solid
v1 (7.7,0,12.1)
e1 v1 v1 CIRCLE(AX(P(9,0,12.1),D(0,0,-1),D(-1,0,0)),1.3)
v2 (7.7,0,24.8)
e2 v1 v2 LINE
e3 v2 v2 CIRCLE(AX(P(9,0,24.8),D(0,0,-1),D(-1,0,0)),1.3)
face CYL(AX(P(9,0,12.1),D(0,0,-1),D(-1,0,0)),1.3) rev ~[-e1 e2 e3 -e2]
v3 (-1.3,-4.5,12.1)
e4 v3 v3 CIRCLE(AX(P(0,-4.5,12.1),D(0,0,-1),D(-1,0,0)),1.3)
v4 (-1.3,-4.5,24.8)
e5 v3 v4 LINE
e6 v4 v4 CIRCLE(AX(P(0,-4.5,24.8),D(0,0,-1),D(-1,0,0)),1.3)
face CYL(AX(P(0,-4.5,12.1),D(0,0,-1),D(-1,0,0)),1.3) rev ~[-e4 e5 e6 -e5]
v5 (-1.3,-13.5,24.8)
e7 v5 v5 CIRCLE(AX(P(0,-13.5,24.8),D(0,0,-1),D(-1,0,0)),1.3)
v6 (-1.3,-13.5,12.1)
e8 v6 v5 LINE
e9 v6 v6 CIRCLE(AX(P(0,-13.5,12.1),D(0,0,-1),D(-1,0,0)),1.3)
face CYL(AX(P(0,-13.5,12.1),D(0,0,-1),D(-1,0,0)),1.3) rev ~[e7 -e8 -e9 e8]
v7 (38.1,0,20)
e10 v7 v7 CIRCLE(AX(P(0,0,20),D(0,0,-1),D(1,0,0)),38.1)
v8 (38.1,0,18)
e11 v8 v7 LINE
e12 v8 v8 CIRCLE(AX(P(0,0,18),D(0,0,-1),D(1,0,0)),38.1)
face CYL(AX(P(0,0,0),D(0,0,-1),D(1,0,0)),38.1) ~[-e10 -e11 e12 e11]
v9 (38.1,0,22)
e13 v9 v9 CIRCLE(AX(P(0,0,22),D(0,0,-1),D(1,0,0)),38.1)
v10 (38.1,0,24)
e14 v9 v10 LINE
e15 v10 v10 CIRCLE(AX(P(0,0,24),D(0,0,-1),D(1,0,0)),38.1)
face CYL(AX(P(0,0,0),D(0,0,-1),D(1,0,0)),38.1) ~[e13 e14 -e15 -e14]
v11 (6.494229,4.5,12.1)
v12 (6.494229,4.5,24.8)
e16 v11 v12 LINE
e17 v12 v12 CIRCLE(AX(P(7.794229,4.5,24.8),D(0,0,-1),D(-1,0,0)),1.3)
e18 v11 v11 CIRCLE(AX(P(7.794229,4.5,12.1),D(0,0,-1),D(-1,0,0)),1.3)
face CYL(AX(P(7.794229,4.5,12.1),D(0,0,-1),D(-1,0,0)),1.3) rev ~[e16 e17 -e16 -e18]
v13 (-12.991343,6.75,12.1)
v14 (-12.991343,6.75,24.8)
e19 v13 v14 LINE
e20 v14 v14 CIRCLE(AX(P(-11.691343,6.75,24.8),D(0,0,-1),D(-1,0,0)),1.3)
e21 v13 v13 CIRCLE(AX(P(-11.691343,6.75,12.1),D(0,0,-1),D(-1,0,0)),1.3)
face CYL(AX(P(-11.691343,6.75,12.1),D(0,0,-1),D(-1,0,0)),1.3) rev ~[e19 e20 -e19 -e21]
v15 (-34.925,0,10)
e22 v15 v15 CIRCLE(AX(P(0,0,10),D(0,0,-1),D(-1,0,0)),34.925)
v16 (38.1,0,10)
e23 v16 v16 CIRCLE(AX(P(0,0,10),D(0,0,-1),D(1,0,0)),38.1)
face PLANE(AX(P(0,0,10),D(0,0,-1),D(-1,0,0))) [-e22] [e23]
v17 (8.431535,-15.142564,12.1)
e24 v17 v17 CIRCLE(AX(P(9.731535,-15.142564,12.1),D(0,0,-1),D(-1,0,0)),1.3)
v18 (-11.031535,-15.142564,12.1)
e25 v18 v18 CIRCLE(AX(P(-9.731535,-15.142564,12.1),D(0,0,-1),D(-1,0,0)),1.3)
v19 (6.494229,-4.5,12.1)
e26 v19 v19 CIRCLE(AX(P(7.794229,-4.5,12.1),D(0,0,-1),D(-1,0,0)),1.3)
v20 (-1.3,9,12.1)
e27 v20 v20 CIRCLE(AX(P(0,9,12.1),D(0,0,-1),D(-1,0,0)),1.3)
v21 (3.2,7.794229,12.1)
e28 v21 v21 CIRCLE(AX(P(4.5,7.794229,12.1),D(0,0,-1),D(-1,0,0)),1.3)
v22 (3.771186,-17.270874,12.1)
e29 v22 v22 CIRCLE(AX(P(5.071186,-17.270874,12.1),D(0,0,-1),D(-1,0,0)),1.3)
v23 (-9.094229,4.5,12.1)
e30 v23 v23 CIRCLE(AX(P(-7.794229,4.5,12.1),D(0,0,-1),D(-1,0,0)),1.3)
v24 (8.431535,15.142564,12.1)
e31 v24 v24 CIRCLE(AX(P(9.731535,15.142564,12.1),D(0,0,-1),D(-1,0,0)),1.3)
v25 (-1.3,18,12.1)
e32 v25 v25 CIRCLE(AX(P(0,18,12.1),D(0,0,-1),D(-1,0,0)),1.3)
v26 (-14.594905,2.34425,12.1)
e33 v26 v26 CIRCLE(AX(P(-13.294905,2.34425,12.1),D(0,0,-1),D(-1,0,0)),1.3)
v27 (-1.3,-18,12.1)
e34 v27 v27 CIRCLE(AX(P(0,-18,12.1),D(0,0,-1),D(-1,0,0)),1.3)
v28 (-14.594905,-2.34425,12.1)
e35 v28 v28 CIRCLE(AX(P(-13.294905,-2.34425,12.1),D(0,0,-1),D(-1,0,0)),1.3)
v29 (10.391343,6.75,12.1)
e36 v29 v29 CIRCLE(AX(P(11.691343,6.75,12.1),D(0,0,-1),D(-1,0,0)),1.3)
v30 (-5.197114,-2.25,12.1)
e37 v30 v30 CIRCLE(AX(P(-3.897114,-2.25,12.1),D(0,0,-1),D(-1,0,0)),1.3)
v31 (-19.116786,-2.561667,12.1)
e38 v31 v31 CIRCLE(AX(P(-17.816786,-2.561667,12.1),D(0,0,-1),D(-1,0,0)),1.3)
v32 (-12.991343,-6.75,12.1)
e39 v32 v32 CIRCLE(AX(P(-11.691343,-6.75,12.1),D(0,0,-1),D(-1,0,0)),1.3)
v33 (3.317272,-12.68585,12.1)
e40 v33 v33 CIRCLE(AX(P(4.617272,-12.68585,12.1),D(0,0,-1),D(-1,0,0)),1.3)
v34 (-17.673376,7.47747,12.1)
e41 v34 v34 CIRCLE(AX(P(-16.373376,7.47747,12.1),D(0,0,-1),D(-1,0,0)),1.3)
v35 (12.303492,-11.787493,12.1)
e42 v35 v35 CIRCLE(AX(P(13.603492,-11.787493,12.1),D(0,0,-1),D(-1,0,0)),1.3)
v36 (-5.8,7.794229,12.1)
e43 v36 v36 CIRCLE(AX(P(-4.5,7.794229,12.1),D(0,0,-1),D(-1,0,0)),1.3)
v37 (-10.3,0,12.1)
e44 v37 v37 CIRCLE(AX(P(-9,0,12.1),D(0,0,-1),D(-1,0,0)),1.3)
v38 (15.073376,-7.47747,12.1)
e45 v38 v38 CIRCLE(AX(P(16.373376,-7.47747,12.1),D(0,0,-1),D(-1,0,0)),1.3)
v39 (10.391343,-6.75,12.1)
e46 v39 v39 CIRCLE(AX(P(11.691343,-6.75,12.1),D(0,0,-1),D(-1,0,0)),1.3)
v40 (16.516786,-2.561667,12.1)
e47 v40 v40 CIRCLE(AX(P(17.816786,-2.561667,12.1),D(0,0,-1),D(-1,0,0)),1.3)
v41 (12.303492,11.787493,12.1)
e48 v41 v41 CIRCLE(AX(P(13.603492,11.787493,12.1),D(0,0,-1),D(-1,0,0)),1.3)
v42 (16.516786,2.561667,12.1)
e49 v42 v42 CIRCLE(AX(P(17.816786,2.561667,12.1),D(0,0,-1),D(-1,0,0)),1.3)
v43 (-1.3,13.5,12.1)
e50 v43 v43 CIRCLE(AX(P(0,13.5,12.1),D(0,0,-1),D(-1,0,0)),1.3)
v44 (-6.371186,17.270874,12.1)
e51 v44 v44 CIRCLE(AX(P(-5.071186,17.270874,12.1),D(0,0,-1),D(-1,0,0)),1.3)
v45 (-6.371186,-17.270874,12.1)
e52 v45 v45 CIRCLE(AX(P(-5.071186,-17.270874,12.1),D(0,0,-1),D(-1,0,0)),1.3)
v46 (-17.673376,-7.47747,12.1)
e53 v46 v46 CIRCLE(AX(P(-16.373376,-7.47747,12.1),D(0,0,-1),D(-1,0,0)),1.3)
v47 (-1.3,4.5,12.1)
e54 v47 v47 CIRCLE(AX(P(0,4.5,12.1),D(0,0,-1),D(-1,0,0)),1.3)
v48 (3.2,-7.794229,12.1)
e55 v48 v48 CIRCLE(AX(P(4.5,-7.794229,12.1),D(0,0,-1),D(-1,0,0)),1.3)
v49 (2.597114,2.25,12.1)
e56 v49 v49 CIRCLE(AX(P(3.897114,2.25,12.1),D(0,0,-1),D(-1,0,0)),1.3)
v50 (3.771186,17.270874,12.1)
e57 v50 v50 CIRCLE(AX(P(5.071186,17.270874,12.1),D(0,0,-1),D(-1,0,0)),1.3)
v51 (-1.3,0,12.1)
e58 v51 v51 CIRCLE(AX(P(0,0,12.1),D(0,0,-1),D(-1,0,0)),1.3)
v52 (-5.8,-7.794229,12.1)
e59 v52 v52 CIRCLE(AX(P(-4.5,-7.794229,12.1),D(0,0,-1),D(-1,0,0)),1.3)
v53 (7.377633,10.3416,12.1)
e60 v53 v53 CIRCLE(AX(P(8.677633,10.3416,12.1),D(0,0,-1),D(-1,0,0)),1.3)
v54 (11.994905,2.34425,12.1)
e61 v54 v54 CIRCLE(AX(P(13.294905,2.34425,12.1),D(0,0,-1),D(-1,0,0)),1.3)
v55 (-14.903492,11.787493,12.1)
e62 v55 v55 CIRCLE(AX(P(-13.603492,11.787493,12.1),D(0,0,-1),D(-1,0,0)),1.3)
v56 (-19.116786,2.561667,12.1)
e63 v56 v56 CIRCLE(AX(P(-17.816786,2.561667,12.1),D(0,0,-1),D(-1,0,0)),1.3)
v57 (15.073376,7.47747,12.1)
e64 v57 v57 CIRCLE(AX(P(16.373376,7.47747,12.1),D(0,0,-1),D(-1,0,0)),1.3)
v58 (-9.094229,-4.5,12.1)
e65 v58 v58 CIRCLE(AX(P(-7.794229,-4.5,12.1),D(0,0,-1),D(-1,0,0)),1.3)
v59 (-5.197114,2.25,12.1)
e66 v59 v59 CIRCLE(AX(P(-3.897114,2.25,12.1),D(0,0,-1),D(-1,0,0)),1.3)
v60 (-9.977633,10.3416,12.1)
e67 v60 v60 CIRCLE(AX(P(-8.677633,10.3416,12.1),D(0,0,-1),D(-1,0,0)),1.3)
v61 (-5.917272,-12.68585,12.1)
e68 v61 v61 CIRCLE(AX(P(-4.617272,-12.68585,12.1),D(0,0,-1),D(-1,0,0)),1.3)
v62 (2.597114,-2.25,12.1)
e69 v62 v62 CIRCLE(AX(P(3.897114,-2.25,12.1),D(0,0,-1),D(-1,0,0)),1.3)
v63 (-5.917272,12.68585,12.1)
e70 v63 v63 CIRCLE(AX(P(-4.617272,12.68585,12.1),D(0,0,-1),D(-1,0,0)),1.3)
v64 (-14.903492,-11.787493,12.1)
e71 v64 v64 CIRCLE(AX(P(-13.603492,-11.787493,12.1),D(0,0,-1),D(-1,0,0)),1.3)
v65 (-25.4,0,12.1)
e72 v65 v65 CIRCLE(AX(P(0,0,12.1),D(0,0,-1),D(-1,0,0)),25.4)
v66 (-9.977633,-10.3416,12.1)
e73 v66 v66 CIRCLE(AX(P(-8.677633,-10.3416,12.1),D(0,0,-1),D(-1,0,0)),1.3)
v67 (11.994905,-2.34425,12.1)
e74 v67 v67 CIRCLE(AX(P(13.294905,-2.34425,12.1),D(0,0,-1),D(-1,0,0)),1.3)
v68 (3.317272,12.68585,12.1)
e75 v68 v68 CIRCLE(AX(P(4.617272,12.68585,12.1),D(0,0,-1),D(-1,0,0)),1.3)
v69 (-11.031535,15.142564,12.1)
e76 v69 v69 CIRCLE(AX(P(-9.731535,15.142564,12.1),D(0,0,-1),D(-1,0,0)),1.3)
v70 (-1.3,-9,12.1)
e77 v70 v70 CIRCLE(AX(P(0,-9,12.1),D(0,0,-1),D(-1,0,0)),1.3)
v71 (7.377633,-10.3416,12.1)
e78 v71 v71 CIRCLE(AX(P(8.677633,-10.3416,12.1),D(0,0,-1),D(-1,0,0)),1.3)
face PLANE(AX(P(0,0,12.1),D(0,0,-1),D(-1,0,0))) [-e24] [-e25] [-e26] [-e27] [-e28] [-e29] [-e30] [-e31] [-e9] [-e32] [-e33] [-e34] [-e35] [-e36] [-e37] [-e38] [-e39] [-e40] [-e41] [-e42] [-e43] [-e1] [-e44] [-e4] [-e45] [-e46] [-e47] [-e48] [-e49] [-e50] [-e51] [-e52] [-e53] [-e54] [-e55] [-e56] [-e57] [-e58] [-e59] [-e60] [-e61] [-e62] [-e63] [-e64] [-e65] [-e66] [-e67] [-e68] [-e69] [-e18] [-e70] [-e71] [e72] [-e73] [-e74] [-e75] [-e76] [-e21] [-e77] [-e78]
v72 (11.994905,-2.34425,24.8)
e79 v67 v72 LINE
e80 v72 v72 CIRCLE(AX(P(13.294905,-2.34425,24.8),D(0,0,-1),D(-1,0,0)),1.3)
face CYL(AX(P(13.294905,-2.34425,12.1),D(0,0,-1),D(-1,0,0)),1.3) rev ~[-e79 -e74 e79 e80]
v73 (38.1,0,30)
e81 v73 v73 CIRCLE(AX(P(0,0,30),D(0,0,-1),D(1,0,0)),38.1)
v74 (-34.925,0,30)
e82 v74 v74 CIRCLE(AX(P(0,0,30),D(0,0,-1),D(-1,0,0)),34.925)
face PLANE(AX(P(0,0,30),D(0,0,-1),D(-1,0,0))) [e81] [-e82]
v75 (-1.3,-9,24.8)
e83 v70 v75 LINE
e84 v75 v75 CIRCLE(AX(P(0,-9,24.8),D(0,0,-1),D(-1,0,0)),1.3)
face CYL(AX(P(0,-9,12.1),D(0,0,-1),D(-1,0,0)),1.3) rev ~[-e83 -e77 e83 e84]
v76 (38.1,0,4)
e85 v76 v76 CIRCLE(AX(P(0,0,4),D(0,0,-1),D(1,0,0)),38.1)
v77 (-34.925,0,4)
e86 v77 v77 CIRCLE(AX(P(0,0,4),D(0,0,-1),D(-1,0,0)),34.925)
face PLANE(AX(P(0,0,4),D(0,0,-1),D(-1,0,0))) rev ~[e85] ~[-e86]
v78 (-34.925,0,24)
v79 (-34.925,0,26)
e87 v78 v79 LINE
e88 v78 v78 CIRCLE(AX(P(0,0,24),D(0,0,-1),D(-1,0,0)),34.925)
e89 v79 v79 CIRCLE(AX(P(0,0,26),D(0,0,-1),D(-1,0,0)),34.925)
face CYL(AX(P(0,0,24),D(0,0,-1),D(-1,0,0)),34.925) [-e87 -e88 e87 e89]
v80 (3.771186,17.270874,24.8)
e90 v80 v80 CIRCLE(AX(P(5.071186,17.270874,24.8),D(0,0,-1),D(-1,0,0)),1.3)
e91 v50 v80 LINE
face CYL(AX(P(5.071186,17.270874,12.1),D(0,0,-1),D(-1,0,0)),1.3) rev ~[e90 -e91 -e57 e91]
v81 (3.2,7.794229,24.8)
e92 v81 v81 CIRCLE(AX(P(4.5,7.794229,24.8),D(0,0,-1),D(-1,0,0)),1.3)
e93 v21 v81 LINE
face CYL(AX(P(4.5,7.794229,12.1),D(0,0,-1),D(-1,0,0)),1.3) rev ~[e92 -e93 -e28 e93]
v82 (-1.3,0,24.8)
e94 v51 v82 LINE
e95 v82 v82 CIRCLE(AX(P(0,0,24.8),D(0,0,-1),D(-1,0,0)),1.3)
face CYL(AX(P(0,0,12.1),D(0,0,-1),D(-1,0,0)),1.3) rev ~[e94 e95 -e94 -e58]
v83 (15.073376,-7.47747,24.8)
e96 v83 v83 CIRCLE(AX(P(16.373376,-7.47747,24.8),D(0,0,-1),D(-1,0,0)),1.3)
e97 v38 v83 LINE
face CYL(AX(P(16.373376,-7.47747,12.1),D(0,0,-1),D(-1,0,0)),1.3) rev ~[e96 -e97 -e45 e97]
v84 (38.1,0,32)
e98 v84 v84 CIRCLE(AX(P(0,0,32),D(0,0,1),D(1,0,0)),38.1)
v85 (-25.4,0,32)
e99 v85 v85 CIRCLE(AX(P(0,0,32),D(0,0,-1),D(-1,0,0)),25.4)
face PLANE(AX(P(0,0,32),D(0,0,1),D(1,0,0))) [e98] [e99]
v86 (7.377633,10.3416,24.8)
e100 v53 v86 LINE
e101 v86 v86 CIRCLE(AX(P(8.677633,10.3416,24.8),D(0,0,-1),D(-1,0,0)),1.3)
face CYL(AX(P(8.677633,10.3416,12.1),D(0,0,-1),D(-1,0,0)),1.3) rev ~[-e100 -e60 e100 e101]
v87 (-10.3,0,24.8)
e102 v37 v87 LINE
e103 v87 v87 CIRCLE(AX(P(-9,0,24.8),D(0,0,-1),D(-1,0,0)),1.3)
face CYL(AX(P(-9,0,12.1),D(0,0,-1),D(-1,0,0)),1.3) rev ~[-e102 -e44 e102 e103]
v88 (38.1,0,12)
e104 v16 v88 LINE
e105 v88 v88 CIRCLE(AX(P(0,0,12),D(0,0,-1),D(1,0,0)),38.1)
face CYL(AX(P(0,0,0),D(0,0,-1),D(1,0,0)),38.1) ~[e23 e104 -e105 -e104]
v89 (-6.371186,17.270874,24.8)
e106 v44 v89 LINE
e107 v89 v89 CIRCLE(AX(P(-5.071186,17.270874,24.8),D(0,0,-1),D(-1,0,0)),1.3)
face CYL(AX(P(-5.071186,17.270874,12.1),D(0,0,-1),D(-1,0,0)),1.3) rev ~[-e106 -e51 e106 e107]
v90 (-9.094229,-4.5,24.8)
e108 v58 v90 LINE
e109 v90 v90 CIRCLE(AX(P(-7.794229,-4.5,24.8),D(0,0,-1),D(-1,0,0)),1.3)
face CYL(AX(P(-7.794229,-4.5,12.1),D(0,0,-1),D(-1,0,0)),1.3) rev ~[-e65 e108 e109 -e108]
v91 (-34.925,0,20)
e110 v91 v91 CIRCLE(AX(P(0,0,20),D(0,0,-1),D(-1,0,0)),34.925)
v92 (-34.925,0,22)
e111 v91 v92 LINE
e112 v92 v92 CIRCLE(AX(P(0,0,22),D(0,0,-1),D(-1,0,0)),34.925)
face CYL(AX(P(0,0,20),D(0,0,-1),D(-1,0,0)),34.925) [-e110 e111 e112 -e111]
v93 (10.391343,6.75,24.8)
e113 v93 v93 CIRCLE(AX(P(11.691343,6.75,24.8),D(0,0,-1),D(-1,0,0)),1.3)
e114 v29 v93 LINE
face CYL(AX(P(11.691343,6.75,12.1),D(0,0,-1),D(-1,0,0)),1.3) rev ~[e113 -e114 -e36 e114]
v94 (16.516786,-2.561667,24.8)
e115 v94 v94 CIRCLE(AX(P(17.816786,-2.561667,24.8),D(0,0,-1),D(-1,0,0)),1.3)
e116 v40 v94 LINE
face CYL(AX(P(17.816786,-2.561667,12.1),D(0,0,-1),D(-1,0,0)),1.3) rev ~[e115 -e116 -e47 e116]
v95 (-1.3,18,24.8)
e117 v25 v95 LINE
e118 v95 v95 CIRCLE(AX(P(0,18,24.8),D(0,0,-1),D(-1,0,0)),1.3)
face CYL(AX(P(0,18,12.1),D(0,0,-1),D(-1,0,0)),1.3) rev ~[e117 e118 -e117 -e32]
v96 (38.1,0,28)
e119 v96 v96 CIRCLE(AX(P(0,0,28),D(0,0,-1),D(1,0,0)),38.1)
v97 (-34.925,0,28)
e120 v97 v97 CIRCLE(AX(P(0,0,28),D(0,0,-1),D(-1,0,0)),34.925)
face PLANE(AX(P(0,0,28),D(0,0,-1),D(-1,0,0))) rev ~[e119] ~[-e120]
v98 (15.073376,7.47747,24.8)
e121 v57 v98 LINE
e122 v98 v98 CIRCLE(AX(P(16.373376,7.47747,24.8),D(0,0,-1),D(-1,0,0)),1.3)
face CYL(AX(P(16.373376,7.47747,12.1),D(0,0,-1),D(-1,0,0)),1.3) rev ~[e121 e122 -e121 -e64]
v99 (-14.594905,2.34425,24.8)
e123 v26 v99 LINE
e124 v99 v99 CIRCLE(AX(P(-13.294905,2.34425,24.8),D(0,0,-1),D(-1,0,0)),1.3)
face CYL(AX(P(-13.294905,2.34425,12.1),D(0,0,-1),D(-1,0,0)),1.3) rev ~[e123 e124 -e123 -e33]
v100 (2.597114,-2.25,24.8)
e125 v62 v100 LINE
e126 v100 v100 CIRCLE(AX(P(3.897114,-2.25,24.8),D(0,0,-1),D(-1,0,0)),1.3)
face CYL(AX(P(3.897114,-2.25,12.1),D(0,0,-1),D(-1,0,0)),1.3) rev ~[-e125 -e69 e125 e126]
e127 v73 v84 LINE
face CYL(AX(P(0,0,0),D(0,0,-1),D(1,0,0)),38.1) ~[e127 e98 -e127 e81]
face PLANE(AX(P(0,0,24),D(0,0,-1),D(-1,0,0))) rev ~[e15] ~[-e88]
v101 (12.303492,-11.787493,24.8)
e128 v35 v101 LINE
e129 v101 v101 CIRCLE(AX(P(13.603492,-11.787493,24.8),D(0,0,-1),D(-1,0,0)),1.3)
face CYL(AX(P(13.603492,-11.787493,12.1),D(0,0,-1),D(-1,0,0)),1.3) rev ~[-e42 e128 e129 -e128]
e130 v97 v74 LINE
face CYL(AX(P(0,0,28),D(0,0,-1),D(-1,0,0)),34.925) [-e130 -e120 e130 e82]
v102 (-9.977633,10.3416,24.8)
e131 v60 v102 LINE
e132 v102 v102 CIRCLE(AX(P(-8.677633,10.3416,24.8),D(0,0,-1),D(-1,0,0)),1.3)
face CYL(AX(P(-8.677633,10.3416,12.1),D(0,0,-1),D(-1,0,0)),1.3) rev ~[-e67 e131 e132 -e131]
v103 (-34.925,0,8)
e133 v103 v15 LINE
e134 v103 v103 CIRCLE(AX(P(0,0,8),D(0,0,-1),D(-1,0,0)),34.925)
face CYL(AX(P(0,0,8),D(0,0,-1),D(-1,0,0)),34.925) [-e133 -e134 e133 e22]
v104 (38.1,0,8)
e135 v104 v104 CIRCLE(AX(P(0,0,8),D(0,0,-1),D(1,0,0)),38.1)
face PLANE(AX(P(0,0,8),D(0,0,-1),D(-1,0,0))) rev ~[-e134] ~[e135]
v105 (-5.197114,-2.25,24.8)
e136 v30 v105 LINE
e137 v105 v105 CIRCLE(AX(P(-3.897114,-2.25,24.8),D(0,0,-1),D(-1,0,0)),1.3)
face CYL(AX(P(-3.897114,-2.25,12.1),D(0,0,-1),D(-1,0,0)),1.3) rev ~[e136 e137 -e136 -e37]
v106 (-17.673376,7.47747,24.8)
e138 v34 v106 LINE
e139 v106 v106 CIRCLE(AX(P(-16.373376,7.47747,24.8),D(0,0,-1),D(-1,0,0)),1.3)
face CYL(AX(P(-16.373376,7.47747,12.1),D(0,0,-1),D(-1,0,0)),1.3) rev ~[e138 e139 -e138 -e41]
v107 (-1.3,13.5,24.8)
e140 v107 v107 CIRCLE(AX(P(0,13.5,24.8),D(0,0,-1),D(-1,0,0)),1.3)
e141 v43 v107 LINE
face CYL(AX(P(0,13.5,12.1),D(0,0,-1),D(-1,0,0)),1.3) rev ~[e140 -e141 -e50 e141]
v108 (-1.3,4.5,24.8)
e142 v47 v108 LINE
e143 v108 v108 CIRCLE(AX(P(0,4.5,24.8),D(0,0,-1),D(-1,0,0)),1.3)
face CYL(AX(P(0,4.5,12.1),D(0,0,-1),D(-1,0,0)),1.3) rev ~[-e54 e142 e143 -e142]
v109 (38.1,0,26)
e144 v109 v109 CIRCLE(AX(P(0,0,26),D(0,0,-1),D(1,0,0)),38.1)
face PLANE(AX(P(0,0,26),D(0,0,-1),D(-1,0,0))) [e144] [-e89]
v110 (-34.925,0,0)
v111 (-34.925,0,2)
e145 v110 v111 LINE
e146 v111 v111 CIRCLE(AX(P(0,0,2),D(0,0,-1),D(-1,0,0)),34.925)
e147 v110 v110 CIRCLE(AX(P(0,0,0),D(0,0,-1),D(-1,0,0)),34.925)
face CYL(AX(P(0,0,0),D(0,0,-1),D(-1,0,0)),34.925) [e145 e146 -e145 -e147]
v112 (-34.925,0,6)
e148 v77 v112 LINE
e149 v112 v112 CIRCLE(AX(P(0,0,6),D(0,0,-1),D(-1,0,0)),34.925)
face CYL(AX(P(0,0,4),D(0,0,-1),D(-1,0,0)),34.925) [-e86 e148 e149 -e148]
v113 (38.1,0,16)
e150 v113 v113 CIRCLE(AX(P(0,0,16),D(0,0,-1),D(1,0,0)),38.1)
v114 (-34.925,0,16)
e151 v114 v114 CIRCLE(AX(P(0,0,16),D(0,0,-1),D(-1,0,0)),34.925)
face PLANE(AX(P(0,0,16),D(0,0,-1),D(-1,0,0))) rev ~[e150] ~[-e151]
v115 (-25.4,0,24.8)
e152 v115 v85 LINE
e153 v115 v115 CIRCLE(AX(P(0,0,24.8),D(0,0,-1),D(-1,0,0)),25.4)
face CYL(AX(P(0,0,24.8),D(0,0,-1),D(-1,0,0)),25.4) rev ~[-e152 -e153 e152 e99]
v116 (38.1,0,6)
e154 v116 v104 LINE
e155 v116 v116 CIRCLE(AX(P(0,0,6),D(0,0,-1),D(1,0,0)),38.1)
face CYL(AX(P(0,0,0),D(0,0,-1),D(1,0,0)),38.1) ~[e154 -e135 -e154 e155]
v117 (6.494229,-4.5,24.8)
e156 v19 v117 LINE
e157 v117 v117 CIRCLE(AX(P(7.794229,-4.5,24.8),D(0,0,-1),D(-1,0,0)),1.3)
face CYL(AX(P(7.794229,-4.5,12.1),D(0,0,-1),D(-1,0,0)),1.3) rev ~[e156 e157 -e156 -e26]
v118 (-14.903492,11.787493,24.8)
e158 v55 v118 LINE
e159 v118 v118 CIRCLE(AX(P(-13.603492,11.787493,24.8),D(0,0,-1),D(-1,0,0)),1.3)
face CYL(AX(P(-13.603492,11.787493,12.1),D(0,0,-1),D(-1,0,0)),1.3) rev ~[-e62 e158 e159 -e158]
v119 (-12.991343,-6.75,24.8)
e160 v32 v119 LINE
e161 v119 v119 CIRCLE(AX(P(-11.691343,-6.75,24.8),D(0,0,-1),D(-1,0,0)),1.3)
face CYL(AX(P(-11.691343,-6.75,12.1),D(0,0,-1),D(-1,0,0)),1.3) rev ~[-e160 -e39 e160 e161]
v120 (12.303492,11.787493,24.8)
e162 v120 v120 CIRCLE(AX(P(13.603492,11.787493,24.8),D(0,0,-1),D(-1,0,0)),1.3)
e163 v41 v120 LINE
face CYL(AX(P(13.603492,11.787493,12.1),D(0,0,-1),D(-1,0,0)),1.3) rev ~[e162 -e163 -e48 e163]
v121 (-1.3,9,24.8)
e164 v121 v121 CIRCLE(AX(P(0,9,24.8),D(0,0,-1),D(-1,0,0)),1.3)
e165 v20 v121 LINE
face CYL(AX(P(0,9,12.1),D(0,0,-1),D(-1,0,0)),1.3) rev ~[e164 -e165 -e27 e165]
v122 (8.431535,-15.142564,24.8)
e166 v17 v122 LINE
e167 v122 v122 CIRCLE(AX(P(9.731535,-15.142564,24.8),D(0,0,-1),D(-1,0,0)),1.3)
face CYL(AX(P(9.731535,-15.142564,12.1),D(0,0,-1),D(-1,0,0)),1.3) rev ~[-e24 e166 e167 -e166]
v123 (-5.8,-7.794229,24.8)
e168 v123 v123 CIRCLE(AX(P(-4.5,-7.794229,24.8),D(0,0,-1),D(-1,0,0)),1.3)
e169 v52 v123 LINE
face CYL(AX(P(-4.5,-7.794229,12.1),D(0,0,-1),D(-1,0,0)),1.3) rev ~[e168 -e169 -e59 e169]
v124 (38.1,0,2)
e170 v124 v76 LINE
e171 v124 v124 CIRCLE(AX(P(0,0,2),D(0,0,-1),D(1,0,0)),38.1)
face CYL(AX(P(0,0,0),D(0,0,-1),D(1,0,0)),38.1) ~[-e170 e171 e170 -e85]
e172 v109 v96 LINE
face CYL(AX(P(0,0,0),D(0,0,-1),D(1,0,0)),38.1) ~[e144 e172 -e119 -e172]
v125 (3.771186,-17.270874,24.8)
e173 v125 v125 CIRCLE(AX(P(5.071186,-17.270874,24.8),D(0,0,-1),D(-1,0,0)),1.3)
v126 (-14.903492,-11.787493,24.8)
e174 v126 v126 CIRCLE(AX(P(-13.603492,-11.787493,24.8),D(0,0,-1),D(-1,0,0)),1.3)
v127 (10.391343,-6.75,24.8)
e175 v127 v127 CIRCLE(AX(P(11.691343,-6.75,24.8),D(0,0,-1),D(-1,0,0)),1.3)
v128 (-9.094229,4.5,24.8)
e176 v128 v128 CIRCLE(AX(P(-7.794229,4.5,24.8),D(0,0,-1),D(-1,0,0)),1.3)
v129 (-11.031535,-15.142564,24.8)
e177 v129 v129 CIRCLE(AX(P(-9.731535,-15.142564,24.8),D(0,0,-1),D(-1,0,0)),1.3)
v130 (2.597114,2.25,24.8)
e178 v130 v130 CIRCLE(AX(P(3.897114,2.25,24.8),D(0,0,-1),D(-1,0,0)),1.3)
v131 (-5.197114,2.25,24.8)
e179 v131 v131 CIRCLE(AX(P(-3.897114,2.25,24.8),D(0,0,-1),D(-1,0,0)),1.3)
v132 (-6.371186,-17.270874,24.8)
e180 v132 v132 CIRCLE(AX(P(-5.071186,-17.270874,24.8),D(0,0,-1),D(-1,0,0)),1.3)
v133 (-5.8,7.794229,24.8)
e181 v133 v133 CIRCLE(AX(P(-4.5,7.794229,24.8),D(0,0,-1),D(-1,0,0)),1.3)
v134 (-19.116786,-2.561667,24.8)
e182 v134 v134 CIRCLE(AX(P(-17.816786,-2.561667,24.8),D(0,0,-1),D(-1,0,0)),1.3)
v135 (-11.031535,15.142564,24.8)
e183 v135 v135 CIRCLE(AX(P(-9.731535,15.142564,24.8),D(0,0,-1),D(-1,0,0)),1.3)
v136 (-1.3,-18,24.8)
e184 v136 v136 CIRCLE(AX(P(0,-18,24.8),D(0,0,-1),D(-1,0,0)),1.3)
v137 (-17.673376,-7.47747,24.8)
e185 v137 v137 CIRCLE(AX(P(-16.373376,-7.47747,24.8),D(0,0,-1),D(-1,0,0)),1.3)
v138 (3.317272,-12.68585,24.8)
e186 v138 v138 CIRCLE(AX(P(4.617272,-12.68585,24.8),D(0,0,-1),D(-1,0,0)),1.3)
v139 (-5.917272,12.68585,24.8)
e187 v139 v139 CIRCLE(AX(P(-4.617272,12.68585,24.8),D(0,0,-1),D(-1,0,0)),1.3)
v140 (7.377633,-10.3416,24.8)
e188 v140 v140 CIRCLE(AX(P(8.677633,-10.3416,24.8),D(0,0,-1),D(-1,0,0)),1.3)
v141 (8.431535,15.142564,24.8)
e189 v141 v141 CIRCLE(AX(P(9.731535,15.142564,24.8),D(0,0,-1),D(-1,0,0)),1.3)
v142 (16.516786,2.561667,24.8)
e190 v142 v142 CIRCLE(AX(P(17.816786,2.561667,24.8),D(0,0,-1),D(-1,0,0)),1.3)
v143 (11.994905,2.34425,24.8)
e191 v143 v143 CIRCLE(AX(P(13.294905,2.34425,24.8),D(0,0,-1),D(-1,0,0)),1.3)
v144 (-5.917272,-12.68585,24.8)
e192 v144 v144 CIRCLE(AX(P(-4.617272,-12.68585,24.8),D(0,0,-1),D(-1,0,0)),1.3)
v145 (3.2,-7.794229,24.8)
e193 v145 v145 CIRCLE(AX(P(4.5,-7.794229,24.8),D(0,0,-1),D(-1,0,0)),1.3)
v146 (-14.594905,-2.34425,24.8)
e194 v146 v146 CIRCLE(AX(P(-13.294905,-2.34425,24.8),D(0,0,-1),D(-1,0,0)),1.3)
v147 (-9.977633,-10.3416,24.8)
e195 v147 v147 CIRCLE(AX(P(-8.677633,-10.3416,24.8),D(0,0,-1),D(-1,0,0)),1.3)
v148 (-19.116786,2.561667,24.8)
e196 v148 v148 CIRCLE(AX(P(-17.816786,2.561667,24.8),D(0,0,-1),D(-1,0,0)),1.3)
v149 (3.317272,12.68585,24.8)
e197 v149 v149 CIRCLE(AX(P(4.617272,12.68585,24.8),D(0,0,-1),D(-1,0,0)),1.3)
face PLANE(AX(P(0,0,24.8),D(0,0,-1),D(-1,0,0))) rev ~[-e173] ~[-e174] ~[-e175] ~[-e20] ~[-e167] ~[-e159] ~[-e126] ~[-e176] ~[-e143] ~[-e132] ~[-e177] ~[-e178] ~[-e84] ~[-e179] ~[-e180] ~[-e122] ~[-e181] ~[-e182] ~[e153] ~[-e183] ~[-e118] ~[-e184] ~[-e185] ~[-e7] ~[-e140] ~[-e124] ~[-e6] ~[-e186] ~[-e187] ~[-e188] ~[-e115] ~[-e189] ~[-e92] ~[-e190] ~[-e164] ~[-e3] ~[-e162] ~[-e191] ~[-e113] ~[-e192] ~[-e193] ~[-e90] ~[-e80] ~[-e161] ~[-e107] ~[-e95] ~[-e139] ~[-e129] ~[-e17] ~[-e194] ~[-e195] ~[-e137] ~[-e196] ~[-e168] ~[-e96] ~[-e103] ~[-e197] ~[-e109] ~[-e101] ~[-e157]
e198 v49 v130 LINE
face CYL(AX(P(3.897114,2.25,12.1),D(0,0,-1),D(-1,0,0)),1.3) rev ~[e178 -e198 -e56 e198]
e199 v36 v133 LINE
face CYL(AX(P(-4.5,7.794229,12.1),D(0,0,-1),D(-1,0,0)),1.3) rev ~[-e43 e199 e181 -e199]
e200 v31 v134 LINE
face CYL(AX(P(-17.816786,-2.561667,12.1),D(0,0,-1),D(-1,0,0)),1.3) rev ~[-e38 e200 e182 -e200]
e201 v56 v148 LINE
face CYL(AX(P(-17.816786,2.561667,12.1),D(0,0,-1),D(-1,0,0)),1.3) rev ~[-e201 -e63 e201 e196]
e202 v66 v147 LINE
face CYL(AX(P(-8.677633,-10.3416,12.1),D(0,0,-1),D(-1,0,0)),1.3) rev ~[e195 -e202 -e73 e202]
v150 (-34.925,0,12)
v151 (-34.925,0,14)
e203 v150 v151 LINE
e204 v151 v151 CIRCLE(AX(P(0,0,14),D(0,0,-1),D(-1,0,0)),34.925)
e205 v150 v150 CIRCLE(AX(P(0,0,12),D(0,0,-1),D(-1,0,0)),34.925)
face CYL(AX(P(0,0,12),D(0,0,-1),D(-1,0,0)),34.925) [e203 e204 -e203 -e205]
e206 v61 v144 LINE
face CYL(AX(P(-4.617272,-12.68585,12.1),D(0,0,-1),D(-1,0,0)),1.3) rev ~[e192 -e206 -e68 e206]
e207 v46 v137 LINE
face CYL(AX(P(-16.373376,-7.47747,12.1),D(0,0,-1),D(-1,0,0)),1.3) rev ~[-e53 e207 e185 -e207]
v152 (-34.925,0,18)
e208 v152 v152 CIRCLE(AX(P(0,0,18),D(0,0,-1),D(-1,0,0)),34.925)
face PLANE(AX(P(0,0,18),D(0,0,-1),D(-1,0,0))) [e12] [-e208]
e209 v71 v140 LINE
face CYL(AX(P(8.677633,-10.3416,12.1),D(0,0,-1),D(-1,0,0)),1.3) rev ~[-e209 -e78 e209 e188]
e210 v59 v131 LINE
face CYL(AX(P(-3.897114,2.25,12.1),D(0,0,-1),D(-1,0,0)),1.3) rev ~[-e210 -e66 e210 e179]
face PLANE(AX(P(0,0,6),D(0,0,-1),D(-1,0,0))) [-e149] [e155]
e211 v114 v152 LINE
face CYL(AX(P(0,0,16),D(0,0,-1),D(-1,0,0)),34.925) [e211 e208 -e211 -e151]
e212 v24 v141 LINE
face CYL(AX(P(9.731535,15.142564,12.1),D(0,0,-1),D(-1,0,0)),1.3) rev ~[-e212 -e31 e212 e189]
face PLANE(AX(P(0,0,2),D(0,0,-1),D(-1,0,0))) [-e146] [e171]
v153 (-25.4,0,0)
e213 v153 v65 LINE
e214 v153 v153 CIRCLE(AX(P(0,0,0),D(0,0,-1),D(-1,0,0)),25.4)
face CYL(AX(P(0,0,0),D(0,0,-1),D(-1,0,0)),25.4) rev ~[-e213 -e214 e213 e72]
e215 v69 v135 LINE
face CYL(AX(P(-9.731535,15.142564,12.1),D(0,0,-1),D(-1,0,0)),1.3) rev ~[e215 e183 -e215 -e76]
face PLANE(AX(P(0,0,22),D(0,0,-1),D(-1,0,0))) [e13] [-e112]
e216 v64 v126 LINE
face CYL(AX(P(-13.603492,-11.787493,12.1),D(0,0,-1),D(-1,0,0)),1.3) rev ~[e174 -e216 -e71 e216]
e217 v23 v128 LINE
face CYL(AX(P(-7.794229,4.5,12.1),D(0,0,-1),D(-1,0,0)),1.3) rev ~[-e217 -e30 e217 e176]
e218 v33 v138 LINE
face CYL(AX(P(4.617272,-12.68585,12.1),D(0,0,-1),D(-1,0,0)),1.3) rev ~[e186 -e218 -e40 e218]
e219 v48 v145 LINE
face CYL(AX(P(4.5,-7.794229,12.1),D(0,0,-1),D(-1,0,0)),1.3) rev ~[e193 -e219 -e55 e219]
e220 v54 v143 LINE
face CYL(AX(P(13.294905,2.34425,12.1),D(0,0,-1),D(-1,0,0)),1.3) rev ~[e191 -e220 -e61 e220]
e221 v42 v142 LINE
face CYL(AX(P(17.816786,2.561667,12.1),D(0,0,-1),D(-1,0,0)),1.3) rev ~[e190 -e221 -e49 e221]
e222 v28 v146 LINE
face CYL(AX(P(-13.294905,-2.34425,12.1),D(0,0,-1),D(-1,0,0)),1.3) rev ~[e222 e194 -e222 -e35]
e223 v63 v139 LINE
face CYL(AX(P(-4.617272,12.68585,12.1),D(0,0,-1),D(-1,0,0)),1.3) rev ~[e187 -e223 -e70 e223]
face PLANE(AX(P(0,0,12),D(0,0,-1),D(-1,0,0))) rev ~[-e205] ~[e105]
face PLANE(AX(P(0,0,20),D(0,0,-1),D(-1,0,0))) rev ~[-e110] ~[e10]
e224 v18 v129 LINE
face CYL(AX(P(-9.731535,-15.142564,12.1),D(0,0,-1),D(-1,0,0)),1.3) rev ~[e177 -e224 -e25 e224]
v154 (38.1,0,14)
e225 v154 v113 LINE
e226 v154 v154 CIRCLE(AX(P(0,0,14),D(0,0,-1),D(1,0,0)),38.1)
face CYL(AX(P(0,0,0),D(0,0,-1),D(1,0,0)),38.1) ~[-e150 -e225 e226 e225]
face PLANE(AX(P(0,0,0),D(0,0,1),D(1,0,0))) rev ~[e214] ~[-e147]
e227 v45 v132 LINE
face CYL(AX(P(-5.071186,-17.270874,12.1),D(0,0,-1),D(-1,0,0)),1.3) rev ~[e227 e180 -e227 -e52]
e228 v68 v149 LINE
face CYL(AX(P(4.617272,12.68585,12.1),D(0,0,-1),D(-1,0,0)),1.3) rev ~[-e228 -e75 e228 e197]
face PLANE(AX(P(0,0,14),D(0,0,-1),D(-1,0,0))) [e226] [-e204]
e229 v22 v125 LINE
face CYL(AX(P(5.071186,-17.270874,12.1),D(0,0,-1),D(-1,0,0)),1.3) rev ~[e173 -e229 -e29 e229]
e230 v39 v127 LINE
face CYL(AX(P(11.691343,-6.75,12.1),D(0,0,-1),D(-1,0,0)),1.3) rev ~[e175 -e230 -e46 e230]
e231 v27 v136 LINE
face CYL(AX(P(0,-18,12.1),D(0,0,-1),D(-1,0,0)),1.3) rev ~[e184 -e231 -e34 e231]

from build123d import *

# Parameters (mm, degrees)
ESQUISSE1_R                = 38.1
BOSS_EXTRU_1_DEPTH         = 32
ESQUISSE2_R                = 25.4
ENL_V_MAT_EXTRU_1_DEPTH    = 12.1
ESQUISSE3_R                = 1.3
ENL_V_MAT_EXTRU_2_DEPTH    = 12.7
ESQUISSE4_R                = 25.4
ENL_V_MAT_EXTRU_3_DEPTH    = 60.314922237
ESQUISSE5_OUTSIDE_W        = 100.682
ESQUISSE5_OUTSIDE_H        = 100.682
ESQUISSE5_OUTSIDE_R        = 34.925
ENL_V_MAT_EXTRU_4_DEPTH    = 2
R_P_TITION_LIN_AIRE1_COUNT = 8
R_P_TITION_LIN_AIRE1_PITCH = 4


with BuildPart() as part:
    # Esquisse1 → Boss.-Extru.1 (new body)
    with BuildSketch(Plane.XY):
        Circle(ESQUISSE1_R)
    extrude(amount=BOSS_EXTRU_1_DEPTH)

    # Esquisse2 → Enlèv. mat.-Extru.1 (cut)
    with BuildSketch(Plane(origin=(0, 0, 0), x_dir=(-1, 0, 0), z_dir=(0, 0, -1))):
        Circle(ESQUISSE2_R)
    extrude(amount=-ENL_V_MAT_EXTRU_1_DEPTH, mode=Mode.SUBTRACT)

    # Esquisse3 → Enlèv. mat.-Extru.2 (cut)
    with BuildSketch(Plane(origin=(0, 0, 12.1), x_dir=(-1, 0, 0), z_dir=(0, 0, -1))):
        Circle(ESQUISSE3_R)
        with Locations((0, 4.5)):
            Circle(ESQUISSE3_R)
        with Locations((0, 9)):
            Circle(ESQUISSE3_R)
        with Locations((0, 13.5)):
            Circle(ESQUISSE3_R)
        with Locations((0, 18)):
            Circle(ESQUISSE3_R)
        with Locations((3.897114317, 2.25)):
            Circle(ESQUISSE3_R)
        with Locations((3.897114317, -2.25)):
            Circle(ESQUISSE3_R)
        with Locations((0, -4.5)):
            Circle(ESQUISSE3_R)
        with Locations((-3.897114317, -2.25)):
            Circle(ESQUISSE3_R)
        with Locations((-3.897114317, 2.25)):
            Circle(ESQUISSE3_R)
        with Locations((4.5, 7.794228634)):
            Circle(ESQUISSE3_R)
        with Locations((7.794228634, 4.5)):
            Circle(ESQUISSE3_R)
        with Locations((9, 0)):
            Circle(ESQUISSE3_R)
        with Locations((7.794228634, -4.5)):
            Circle(ESQUISSE3_R)
        with Locations((4.5, -7.794228634)):
            Circle(ESQUISSE3_R)
        with Locations((0, -9)):
            Circle(ESQUISSE3_R)
        with Locations((-4.5, -7.794228634)):
            Circle(ESQUISSE3_R)
        with Locations((-7.794228634, -4.5)):
            Circle(ESQUISSE3_R)
        with Locations((-9, 0)):
            Circle(ESQUISSE3_R)
        with Locations((-7.794228634, 4.5)):
            Circle(ESQUISSE3_R)
        with Locations((-4.5, 7.794228634)):
            Circle(ESQUISSE3_R)
        with Locations((4.617271935, 12.685850381)):
            Circle(ESQUISSE3_R)
        with Locations((8.677632731, 10.341599982)):
            Circle(ESQUISSE3_R)
        with Locations((11.691342951, 6.75)):
            Circle(ESQUISSE3_R)
        with Locations((13.294904666, 2.344250399)):
            Circle(ESQUISSE3_R)
        with Locations((13.294904666, -2.344250399)):
            Circle(ESQUISSE3_R)
        with Locations((11.691342951, -6.75)):
            Circle(ESQUISSE3_R)
        with Locations((8.677632731, -10.341599982)):
            Circle(ESQUISSE3_R)
        with Locations((4.617271935, -12.685850381)):
            Circle(ESQUISSE3_R)
        with Locations((0, -13.5)):
            Circle(ESQUISSE3_R)
        with Locations((-4.617271935, -12.685850381)):
            Circle(ESQUISSE3_R)
        with Locations((-8.677632731, -10.341599982)):
            Circle(ESQUISSE3_R)
        with Locations((-11.691342951, -6.75)):
            Circle(ESQUISSE3_R)
        with Locations((-13.294904666, -2.344250399)):
            Circle(ESQUISSE3_R)
        with Locations((-13.294904666, 2.344250399)):
            Circle(ESQUISSE3_R)
        with Locations((-11.691342951, 6.75)):
            Circle(ESQUISSE3_R)
        with Locations((-8.677632731, 10.341599982)):
            Circle(ESQUISSE3_R)
        with Locations((-4.617271935, 12.685850381)):
            Circle(ESQUISSE3_R)
        with Locations((5.071186023, 17.270873525)):
            Circle(ESQUISSE3_R)
        with Locations((9.731534714, 15.142563591)):
            Circle(ESQUISSE3_R)
        with Locations((13.603492338, 11.787493211)):
            Circle(ESQUISSE3_R)
        with Locations((16.373375916, 7.477470234)):
            Circle(ESQUISSE3_R)
        with Locations((17.816785954, 2.561667089)):
            Circle(ESQUISSE3_R)
        with Locations((17.816785954, -2.561667089)):
            Circle(ESQUISSE3_R)
        with Locations((16.373375916, -7.477470234)):
            Circle(ESQUISSE3_R)
        with Locations((13.603492338, -11.787493211)):
            Circle(ESQUISSE3_R)
        with Locations((9.731534714, -15.142563591)):
            Circle(ESQUISSE3_R)
        with Locations((5.071186023, -17.270873525)):
            Circle(ESQUISSE3_R)
        with Locations((0, -18)):
            Circle(ESQUISSE3_R)
        with Locations((-5.071186023, -17.270873525)):
            Circle(ESQUISSE3_R)
        with Locations((-9.731534714, -15.142563591)):
            Circle(ESQUISSE3_R)
        with Locations((-13.603492338, -11.787493211)):
            Circle(ESQUISSE3_R)
        with Locations((-16.373375916, -7.477470234)):
            Circle(ESQUISSE3_R)
        with Locations((-17.816785954, -2.561667089)):
            Circle(ESQUISSE3_R)
        with Locations((-17.816785954, 2.561667089)):
            Circle(ESQUISSE3_R)
        with Locations((-16.373375916, 7.477470234)):
            Circle(ESQUISSE3_R)
        with Locations((-13.603492338, 11.787493211)):
            Circle(ESQUISSE3_R)
        with Locations((-9.731534714, 15.142563591)):
            Circle(ESQUISSE3_R)
        with Locations((-5.071186023, 17.270873525)):
            Circle(ESQUISSE3_R)
    extrude(amount=-ENL_V_MAT_EXTRU_2_DEPTH, mode=Mode.SUBTRACT)

    # Esquisse4 → Enlèv. mat.-Extru.3 (cut, through all)
    with BuildSketch(Plane(origin=(0, 0, 24.8), x_dir=(-1, 0, 0), z_dir=(0, 0, -1))):
        Circle(ESQUISSE4_R)
    extrude(amount=-ENL_V_MAT_EXTRU_3_DEPTH, mode=Mode.SUBTRACT)

    # Esquisse5 outside → Enlèv. mat.-Extru.4 (cut)
    with BuildSketch(Plane(origin=(0, 0, 0), x_dir=(-1, 0, 0), z_dir=(0, 0, -1))):
        Rectangle(ESQUISSE5_OUTSIDE_W, ESQUISSE5_OUTSIDE_H)
        Circle(ESQUISSE5_OUTSIDE_R, mode=Mode.SUBTRACT)
    enl_v_mat_extru_4 = extrude(amount=-ENL_V_MAT_EXTRU_4_DEPTH, mode=Mode.SUBTRACT)

    # Répétition linéaire1: Enlèv. mat.-Extru.4 ×8
    with Locations(*[(0, 0, i * R_P_TITION_LIN_AIRE1_PITCH) for i in range(1, R_P_TITION_LIN_AIRE1_COUNT)]):
        add(enl_v_mat_extru_4, mode=Mode.SUBTRACT)


solid = part.part
